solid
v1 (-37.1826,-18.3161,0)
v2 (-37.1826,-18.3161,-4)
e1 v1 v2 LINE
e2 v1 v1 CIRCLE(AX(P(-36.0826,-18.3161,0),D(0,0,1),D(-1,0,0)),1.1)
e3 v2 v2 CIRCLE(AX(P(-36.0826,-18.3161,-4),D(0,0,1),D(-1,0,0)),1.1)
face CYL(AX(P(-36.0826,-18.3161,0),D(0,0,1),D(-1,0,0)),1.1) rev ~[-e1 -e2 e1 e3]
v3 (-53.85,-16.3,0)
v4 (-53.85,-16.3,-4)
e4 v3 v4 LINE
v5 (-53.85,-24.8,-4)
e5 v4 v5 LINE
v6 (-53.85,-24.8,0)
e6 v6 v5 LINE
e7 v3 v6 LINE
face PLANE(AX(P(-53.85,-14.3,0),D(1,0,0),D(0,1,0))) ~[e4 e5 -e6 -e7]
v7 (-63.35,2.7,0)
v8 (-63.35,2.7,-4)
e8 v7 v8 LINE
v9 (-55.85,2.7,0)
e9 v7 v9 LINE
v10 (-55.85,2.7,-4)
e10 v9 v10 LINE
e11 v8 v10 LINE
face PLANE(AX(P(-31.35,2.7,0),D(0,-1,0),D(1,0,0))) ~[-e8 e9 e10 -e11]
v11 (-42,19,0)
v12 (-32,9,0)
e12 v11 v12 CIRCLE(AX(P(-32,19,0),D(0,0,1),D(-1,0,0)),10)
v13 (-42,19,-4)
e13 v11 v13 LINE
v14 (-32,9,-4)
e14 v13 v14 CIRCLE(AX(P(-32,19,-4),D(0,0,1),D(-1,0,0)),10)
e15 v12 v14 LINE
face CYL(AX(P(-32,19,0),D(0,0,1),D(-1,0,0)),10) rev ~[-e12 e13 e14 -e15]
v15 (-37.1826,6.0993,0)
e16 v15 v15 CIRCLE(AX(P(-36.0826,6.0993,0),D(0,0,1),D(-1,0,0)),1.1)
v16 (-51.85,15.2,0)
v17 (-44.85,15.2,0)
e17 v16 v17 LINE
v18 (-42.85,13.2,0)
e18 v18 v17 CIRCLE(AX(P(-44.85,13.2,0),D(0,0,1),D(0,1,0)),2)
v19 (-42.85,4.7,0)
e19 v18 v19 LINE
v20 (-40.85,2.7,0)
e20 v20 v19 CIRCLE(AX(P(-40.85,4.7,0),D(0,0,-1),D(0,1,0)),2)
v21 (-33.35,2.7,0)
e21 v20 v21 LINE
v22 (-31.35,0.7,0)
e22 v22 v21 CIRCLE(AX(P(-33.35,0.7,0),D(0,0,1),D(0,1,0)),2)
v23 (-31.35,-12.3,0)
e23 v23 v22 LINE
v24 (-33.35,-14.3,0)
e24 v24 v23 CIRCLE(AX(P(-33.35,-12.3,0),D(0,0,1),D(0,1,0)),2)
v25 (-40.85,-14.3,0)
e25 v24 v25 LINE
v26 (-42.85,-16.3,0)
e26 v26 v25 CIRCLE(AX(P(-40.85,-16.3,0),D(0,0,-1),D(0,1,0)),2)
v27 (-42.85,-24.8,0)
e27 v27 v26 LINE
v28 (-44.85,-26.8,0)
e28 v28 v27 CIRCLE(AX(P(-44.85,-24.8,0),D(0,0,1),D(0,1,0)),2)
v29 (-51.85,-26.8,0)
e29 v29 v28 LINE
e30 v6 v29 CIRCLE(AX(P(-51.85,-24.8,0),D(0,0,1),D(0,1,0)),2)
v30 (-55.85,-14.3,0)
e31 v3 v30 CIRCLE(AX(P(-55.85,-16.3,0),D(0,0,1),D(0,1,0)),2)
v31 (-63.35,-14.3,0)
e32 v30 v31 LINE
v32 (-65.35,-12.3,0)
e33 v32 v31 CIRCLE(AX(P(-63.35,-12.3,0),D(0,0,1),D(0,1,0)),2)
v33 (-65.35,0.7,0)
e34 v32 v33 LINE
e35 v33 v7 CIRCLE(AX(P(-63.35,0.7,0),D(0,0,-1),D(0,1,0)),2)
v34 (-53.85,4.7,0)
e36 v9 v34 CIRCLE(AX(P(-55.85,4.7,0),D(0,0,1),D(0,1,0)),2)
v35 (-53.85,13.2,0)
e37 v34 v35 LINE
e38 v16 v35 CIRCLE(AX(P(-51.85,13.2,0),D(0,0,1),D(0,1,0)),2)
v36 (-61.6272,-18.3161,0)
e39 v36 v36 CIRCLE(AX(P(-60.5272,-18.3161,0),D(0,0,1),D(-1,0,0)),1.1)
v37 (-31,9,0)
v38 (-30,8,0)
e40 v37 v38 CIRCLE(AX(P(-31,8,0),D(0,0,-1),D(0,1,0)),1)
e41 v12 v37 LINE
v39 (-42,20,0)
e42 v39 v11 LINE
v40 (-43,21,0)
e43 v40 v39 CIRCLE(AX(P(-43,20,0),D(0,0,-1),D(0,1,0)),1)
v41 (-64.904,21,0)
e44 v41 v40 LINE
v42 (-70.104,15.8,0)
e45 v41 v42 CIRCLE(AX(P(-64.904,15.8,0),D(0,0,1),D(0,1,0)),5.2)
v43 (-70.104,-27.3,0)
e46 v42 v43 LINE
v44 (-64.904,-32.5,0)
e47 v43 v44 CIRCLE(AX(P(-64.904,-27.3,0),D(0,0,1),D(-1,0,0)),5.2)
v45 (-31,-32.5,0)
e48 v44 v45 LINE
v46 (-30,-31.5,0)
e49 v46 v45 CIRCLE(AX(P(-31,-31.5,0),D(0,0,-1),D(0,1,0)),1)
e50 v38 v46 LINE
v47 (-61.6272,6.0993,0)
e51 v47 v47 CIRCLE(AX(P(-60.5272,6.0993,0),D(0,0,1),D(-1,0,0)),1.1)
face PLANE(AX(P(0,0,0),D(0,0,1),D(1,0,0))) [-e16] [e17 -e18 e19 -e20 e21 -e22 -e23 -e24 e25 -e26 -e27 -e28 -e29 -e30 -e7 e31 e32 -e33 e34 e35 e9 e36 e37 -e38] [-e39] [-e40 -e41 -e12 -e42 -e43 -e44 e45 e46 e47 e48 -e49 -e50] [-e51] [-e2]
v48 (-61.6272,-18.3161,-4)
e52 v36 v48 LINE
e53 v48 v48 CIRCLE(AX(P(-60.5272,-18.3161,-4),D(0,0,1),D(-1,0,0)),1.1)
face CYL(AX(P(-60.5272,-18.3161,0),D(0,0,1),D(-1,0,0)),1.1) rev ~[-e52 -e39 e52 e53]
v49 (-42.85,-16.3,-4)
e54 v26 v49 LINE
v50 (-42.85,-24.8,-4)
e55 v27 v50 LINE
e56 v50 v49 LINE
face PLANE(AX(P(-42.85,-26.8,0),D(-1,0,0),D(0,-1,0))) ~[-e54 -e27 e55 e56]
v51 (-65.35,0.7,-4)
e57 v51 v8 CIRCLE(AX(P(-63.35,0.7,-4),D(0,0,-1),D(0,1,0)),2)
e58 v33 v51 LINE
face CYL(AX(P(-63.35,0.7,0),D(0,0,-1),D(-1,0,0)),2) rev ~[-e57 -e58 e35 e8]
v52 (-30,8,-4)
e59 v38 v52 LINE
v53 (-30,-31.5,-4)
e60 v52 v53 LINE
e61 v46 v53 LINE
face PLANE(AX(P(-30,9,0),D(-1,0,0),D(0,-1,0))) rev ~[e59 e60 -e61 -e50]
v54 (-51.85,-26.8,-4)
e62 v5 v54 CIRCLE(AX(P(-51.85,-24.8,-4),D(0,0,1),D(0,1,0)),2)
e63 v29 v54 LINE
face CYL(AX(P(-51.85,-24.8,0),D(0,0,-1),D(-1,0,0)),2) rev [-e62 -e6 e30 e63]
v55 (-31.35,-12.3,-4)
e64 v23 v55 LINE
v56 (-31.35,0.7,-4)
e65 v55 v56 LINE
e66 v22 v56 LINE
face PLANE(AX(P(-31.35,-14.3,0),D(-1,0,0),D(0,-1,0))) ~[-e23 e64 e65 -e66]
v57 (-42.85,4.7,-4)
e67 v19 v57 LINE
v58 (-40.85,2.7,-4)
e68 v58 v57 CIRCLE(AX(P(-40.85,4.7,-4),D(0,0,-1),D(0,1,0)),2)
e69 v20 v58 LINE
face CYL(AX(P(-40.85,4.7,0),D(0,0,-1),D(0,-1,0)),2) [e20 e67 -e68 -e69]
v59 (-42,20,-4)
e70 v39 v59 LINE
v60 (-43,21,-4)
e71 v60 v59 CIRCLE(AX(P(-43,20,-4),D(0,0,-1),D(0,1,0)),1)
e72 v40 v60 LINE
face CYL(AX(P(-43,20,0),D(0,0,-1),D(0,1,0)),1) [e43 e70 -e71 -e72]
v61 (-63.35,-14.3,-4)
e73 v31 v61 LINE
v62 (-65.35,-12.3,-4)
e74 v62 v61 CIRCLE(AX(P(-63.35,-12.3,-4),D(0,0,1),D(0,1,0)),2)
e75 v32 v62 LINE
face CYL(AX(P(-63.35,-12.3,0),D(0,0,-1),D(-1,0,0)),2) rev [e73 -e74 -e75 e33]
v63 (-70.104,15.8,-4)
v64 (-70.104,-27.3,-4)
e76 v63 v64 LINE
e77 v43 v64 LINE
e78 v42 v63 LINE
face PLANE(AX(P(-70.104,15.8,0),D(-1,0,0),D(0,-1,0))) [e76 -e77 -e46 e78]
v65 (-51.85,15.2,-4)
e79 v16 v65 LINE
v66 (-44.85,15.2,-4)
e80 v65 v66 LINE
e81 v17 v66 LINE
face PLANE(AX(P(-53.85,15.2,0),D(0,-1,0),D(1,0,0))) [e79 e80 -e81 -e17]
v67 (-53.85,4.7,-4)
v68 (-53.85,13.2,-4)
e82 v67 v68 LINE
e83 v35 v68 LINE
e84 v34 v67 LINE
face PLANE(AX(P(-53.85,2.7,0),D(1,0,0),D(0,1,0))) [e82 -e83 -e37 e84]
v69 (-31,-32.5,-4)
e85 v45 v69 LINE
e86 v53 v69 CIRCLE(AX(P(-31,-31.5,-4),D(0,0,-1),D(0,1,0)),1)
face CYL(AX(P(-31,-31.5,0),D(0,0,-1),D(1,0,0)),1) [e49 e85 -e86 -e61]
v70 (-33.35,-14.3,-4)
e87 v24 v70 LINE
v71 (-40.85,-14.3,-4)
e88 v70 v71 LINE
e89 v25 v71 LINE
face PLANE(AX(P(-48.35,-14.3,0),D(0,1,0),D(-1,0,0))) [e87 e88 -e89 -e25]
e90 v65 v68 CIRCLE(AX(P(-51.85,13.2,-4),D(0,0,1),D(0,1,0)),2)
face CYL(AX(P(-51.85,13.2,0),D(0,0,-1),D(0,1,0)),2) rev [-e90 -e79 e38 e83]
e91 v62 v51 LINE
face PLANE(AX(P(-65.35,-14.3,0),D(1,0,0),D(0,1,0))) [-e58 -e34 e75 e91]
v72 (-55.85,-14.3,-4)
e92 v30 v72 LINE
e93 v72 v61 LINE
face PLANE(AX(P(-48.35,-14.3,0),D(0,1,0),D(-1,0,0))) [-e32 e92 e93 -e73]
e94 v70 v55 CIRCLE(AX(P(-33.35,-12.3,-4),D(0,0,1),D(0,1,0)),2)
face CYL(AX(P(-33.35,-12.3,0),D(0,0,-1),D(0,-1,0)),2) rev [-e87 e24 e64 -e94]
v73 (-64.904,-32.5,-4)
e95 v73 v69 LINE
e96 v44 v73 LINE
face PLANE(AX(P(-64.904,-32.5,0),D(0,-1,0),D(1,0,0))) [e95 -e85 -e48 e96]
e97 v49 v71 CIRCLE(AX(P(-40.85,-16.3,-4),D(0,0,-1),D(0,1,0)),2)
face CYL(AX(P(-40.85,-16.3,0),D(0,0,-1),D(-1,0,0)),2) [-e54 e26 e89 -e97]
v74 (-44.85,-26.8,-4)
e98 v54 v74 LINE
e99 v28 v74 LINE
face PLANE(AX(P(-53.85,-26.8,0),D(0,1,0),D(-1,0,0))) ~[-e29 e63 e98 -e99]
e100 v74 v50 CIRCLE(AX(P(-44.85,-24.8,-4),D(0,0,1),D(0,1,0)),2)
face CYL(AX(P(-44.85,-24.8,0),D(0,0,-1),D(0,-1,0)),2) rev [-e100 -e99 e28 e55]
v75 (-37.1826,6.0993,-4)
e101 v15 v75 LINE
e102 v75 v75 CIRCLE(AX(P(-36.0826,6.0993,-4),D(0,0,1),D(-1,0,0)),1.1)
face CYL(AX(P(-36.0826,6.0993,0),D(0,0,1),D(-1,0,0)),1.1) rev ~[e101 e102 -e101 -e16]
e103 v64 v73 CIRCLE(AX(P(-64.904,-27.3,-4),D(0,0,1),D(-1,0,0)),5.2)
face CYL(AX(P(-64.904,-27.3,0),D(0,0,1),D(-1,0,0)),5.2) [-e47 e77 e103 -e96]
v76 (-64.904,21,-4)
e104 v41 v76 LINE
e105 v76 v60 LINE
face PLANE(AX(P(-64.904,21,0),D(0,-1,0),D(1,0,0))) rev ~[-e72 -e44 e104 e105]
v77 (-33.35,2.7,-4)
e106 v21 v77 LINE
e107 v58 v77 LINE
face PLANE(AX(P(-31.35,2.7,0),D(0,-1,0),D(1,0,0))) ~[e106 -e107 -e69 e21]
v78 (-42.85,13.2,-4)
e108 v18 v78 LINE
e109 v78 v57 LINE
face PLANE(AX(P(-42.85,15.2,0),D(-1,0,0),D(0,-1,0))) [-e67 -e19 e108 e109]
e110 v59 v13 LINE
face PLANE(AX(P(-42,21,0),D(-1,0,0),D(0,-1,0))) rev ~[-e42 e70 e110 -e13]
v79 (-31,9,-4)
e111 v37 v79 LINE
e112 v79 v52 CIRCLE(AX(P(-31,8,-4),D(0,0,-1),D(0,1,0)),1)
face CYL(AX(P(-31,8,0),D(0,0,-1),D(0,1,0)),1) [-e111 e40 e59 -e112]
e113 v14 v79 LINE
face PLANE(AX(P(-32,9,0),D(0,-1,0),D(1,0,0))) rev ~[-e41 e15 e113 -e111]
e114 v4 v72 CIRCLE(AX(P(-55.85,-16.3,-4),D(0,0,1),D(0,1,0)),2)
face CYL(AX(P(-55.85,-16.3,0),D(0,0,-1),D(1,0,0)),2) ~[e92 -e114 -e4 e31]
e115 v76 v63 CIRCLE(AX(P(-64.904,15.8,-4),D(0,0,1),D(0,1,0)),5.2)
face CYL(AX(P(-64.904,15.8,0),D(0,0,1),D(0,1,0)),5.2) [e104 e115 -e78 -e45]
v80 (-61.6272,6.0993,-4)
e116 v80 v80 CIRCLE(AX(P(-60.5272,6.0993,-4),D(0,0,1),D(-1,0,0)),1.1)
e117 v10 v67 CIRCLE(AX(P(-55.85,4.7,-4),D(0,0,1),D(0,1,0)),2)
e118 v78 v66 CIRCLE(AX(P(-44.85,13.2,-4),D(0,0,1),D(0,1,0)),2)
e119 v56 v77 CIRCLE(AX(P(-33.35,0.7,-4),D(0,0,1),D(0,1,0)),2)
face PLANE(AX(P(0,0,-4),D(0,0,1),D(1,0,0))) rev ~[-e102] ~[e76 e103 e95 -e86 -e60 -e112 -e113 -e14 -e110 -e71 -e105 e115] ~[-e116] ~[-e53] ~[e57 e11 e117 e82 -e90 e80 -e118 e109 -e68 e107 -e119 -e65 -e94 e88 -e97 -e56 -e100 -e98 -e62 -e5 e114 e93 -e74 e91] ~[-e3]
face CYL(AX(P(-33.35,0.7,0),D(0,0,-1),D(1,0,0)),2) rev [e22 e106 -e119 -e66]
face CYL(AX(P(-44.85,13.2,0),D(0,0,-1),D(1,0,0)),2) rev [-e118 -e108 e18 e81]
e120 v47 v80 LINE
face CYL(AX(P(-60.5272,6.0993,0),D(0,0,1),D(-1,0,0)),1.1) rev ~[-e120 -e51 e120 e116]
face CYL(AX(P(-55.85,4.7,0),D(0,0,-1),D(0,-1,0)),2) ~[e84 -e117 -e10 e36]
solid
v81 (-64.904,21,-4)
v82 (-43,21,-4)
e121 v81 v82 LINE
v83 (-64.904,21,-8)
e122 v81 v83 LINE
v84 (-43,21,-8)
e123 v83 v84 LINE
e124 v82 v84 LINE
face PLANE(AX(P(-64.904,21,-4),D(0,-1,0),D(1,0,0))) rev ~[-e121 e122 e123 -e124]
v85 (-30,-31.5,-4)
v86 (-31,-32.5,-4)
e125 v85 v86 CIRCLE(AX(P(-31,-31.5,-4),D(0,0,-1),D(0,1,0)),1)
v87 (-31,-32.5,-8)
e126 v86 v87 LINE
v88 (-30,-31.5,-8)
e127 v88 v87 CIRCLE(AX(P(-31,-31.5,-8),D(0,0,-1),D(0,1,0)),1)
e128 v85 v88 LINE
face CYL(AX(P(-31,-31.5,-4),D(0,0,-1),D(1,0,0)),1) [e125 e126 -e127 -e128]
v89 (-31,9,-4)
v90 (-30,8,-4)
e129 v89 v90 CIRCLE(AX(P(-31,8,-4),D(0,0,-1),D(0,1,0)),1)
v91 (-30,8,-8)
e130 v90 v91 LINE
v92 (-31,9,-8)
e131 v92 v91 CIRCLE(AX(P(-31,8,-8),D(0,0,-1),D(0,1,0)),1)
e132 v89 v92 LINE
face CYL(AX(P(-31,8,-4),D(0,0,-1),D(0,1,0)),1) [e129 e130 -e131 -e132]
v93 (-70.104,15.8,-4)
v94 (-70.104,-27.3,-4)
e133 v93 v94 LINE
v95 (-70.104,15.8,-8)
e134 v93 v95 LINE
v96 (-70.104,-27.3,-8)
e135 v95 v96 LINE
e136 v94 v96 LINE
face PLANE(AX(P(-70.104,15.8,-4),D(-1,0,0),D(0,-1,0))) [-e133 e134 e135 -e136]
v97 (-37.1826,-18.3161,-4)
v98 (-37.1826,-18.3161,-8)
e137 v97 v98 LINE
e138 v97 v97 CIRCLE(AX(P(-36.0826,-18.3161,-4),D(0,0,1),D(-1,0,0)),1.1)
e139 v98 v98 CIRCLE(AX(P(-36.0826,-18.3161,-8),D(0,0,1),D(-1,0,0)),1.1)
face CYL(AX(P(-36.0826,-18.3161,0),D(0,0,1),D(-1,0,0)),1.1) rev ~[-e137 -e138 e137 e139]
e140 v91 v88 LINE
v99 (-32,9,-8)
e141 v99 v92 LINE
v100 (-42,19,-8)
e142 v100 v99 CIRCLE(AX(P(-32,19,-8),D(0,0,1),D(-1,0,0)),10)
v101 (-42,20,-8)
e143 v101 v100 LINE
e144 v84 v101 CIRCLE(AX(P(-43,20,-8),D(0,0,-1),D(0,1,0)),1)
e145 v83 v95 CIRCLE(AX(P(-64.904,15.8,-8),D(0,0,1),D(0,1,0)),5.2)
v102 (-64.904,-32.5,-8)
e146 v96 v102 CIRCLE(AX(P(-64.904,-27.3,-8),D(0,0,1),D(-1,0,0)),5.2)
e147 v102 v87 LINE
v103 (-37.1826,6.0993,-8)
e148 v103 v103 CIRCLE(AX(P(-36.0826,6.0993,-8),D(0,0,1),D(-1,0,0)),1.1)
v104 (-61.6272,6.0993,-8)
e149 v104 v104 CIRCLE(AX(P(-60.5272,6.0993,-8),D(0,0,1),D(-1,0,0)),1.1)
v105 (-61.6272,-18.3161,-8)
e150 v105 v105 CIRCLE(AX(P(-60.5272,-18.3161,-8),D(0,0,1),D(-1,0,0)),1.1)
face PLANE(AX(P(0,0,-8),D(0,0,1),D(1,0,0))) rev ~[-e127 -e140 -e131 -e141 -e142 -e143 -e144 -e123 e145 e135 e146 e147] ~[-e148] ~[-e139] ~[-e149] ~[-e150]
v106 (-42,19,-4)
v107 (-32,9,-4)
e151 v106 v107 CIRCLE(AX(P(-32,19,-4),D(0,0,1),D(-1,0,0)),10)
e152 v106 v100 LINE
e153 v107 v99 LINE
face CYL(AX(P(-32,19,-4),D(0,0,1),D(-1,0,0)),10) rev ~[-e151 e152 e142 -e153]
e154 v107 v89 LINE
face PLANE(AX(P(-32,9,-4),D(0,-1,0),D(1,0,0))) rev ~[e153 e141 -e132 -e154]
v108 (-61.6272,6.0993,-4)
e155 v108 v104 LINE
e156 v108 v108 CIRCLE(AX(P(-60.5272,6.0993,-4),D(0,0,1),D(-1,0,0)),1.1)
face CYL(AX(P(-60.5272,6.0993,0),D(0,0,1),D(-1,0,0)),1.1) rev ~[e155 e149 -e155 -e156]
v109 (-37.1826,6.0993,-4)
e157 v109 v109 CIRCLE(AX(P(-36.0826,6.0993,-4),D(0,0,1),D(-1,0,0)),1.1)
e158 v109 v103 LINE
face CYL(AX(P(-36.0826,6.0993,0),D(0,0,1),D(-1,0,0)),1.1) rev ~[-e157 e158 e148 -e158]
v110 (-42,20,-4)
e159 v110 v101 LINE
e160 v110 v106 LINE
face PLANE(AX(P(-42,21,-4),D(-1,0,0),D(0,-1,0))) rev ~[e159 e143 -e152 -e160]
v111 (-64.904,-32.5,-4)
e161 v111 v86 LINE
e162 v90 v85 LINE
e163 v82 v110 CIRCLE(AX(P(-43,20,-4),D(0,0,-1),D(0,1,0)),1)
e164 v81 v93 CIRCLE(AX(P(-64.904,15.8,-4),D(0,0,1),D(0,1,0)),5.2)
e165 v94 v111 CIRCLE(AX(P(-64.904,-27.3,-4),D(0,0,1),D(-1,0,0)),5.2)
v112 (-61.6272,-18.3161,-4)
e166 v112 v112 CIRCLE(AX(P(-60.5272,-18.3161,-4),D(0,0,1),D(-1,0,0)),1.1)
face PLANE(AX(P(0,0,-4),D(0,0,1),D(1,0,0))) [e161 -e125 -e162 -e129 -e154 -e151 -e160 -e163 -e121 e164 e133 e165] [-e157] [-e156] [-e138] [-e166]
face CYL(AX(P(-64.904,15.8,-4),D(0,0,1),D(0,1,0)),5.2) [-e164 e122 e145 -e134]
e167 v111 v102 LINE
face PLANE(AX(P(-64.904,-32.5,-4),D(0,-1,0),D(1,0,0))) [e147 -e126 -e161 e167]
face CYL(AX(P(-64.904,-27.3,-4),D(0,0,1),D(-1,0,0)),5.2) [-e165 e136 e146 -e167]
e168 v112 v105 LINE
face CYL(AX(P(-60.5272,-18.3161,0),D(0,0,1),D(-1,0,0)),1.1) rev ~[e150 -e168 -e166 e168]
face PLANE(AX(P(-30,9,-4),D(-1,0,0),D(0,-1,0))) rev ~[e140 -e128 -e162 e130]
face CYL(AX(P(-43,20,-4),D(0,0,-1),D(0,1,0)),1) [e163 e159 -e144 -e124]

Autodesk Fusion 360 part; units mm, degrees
sketch "Sketch2" plane through (0, 0, 0) normal (0, 0, 1) x (1, 0, 0)
  line L0 (70.104, -32.512) -> (-70.104, -32.512)
  line L1 (-70.104, -32.512) -> (-70.104, 32.512)
  line L2 (-70.104, 32.512) -> (70.104, 32.512)
  line L3 (70.104, 32.512) -> (70.104, -32.512)
  line L4 (70.104, -32.512) -> (-70.104, 32.512) construction
  line L5 (-70.104, -32.512) -> (70.104, 32.512) construction
  dimension "d1" = 140.208
  dimension "d2" = 65.024
sketch "Sketch3" plane through (0, 0, 0) normal (0, 0, 1) x (1, 0, 0)
  line L0 (-70.104, 15.8) -> (-70.104, -27.3)
  arc A0 (-70.104, -27.3) -> (-64.904, -32.5) centre (-64.904, -27.3) ccw
  line L1 (-64.904, -32.5) -> (-30, -32.5)
  arc A1 (-64.904, 21) -> (-70.104, 15.8) centre (-64.904, 15.8) ccw
  line L2 (-64.904, 21) -> (-42, 21)
  line L3 (-30, 9) -> (-30, -32.5)
  circle A2 centre (-30.5373, 18.3875) radius 8
  line L4 (-30.5373, 22.2562) -> (-30.5373, 14.5188)
  line L5 (-42, 21) -> (-42, 19)
  arc A3 (-42, 19) -> (-32, 9) centre (-32, 19) ccw
  line L6 (-32, 9) -> (-30, 9)
  dimension "d3" = 70.104
  dimension "d4" = 32.5
  dimension "d5" = 5.2
  dimension "d6" = 21
  dimension "d7" = 5.2
  dimension "d8" = 16
  dimension "d9" = 42
  dimension "d10" = 9
  dimension "d11" = 10
  dimension "d12" = 30
extrude "Extrude1" add sketch "Sketch3" against normal blind 4 contours L0 A0 L1 A1 L2 L3 L5 A3 L6 makes body 1
fillet "Fillet3" radius 1 3 edges at (-30, -32.5, -2) (-30, 9, -2) (-42, 21, -2) on bodies 1
pattern_linear "R-Pattern1" count 2 spacing 4 along (0, 0, -1) of bodies 1 makes body 2
sketch "Sketch4" plane through (0, 0, 0) normal (0, 0, 1) x (-1, 0, 0)
  arc A0 (64.904, -21) -> (70.104, -15.8) centre (64.904, -15.8) ccw
  line L0 (70.104, -15.8) -> (70.104, 27.3)
  arc A1 (70.104, 27.3) -> (64.904, 32.5) centre (64.904, 27.3) ccw
  line L1 (64.904, 32.5) -> (31, 32.5)
  line L2 (30, 31.5) -> (30, -8)
  line L3 (31, -9) -> (32, -9)
  arc A2 (42, -19) -> (32, -9) centre (32, -19) ccw
  line L4 (42, -19) -> (42, -20)
  line L5 (43, -21) -> (64.904, -21)
  line L6 (65.35, -2.7) -> (48.35, -2.7)
  line L7 (48.35, -2.7) -> (48.35, 14.3)
  line L8 (48.35, 14.3) -> (65.35, 14.3)
  line L9 (65.35, 14.3) -> (65.35, -2.7)
  arc A3 (42, -20) -> (43, -21) centre (43, -20) ccw
  arc A4 (31, 32.5) -> (30, 31.5) centre (31, 31.5) ccw
  arc A5 (30, -8) -> (31, -9) centre (31, -8) ccw
  point P0 (48.35, 5.8)
  dimension "d21" = 5.8
  dimension "d22" = 17
  dimension "d23" = 48.35
  dimension "d24" = 17
extrude "Extrude2" cut sketch "Sketch4" against normal blind 4 contours L6 L7 L8 L9 bodies 1
fillet "Fillet1" radius 2 2 edges at (-65.35, 2.7, -2) (-65.35, -14.3, -2) on bodies 1
mirror "Mirror1" about plane through (-48.35, 2.7, 0) normal (-1, 0, 0) of "Extrude2", "Fillet1"
sketch "Sketch5" plane through (0, 0, 0) normal (0, 0, 1) x (-1, 0, 0)
  line L0 (33.35, 14.3) -> (63.35, 14.3)
  arc A0 (65.35, 12.3) -> (63.35, 14.3) centre (63.35, 12.3) ccw
  line L1 (65.35, 12.3) -> (65.35, -0.7)
  arc A1 (63.35, -2.7) -> (65.35, -0.7) centre (63.35, -0.7) ccw
  line L2 (63.35, -2.7) -> (33.35, -2.7)
  arc A2 (31.35, -0.7) -> (33.35, -2.7) centre (33.35, -0.7) ccw
  line L3 (31.35, -0.7) -> (31.35, 12.3)
  arc A3 (33.35, 14.3) -> (31.35, 12.3) centre (33.35, 12.3) ccw
  arc A4 (42, -20) -> (43, -21) centre (43, -20) ccw
  line L4 (43, -21) -> (64.904, -21)
  arc A5 (64.904, -21) -> (70.104, -15.8) centre (64.904, -15.8) ccw
  line L5 (70.104, -15.8) -> (70.104, 27.3)
  arc A6 (70.104, 27.3) -> (64.904, 32.5) centre (64.904, 27.3) ccw
  line L6 (64.904, 32.5) -> (31, 32.5)
  arc A7 (31, 32.5) -> (30, 31.5) centre (31, 31.5) ccw
  line L7 (30, 31.5) -> (30, -8)
  arc A8 (30, -8) -> (31, -9) centre (31, -8) ccw
  line L8 (31, -9) -> (32, -9)
  arc A9 (42, -19) -> (32, -9) centre (32, -19) ccw
  line L9 (42, -19) -> (42, -20)
  line L10 (53.85, -2.7) -> (53.85, -15.2)
  line L11 (53.85, -15.2) -> (42.85, -15.2)
  line L12 (42.85, -15.2) -> (42.85, -2.7)
  point P0 (48.35, -2.7)
  point P1 (48.35, -15.2)
  dimension "d37" = 12.5
  dimension "d38" = 11
extrude "Extrude3" cut sketch "Sketch5" against normal blind 4 contours L2 L10 L11 L12 bodies 1
fillet "Fillet4" radius 2 2 edges at (-53.85, 15.2, -2) (-42.85, 15.2, -2) on bodies 1
ref_plane "WorkPlane1" through (-58.1, -5.8, -2) normal (0, -1, 0) x (-1, 0, 0)
mirror "Mirror2" about plane through (-58.1, -5.8, -2) normal (0, -1, 0) of "Extrude3", "Fillet4"
sketch "Sketch6" plane through (0, 0, 0) normal (0, 0, 1) x (-1, 0, 0)
  line L0 (53.85, 24.8) -> (53.85, 14.3)
  line L1 (53.85, 14.3) -> (63.35, 14.3)
  arc A0 (65.35, 12.3) -> (63.35, 14.3) centre (63.35, 12.3) ccw
  line L2 (65.35, 12.3) -> (65.35, -0.7)
  arc A1 (63.35, -2.7) -> (65.35, -0.7) centre (63.35, -0.7) ccw
  line L3 (63.35, -2.7) -> (53.85, -2.7)
  line L4 (53.85, -2.7) -> (53.85, -13.2)
  arc A2 (51.85, -15.2) -> (53.85, -13.2) centre (51.85, -13.2) ccw
  line L5 (51.85, -15.2) -> (44.85, -15.2)
  arc A3 (42.85, -13.2) -> (44.85, -15.2) centre (44.85, -13.2) ccw
  line L6 (42.85, -13.2) -> (42.85, -2.7)
  line L7 (42.85, -2.7) -> (33.35, -2.7)
  arc A4 (31.35, -0.7) -> (33.35, -2.7) centre (33.35, -0.7) ccw
  line L8 (31.35, -0.7) -> (31.35, 12.3)
  arc A5 (33.35, 14.3) -> (31.35, 12.3) centre (33.35, 12.3) ccw
  line L9 (33.35, 14.3) -> (42.85, 14.3)
  line L10 (42.85, 14.3) -> (42.85, 24.8)
  arc A6 (44.85, 26.8) -> (42.85, 24.8) centre (44.85, 24.8) ccw
  line L11 (44.85, 26.8) -> (51.85, 26.8)
  arc A7 (53.85, 24.8) -> (51.85, 26.8) centre (51.85, 24.8) ccw
  arc A8 (42, -20) -> (43, -21) centre (43, -20) ccw
  line L12 (43, -21) -> (64.904, -21)
  arc A9 (64.904, -21) -> (70.104, -15.8) centre (64.904, -15.8) ccw
  line L13 (70.104, -15.8) -> (70.104, 27.3)
  arc A10 (70.104, 27.3) -> (64.904, 32.5) centre (64.904, 27.3) ccw
  line L14 (64.904, 32.5) -> (31, 32.5)
  arc A11 (31, 32.5) -> (30, 31.5) centre (31, 31.5) ccw
  line L15 (30, 31.5) -> (30, -8)
  arc A12 (30, -8) -> (31, -9) centre (31, -8) ccw
  line L16 (31, -9) -> (32, -9)
  arc A13 (42, -19) -> (32, -9) centre (32, -19) ccw
  line L17 (42, -19) -> (42, -20)
  circle A14 centre (60.5272, -6.0993) radius 1.1
  circle A15 centre (36.0826, -6.0993) radius 1.1
  line L18 (60.5272, -6.0993) -> (36.0826, -6.0993) construction
  line L19 (36.0826, -6.0993) -> (36.0826, 18.3161) construction
  line L20 (36.0826, 18.3161) -> (60.5272, 18.3161) construction
  line L21 (60.5272, 18.3161) -> (60.5272, -6.0993) construction
  circle A16 centre (60.5272, 18.3161) radius 1.1
  circle A17 centre (36.0826, 18.3161) radius 1.1
  dimension "d45" = 2.2
  dimension "d46" = 2.2
  dimension "d47" = 2.2
  dimension "d48" = 2.2
extrude "Extrude4" cut sketch "Sketch6" against normal blind 18 contours A14 | A15 | A16 | A17 bodies 1 2
fillet "Fillet5" radius 2 4 edges at (-53.85, 2.7, -2) (-53.85, -14.3, -2) (-42.85, -14.3, -2) (-42.85, 2.7, -2) on bodies 1
sketch "Sketch10" plane through (0, 0, 0) normal (0, 0, 1) x (-1, 0, 0)
  arc A0 (42.85, -4.7) -> (40.85, -2.7) centre (40.85, -4.7) ccw
  line L0 (40.85, -2.7) -> (33.35, -2.7)
  arc A1 (31.35, -0.7) -> (33.35, -2.7) centre (33.35, -0.7) ccw
  line L1 (31.35, -0.7) -> (31.35, 12.3)
  arc A2 (33.35, 14.3) -> (31.35, 12.3) centre (33.35, 12.3) ccw
  line L2 (33.35, 14.3) -> (40.85, 14.3)
  arc A3 (40.85, 14.3) -> (42.85, 16.3) centre (40.85, 16.3) ccw
  line L3 (42.85, 16.3) -> (42.85, 24.8)
  arc A4 (44.85, 26.8) -> (42.85, 24.8) centre (44.85, 24.8) ccw
  line L4 (44.85, 26.8) -> (51.85, 26.8)
  arc A5 (53.85, 24.8) -> (51.85, 26.8) centre (51.85, 24.8) ccw
  line L5 (53.85, 24.8) -> (53.85, 16.3)
  arc A6 (53.85, 16.3) -> (55.85, 14.3) centre (55.85, 16.3) ccw
  line L6 (55.85, 14.3) -> (63.35, 14.3)
  arc A7 (65.35, 12.3) -> (63.35, 14.3) centre (63.35, 12.3) ccw
  line L7 (65.35, 12.3) -> (65.35, -0.7)
  arc A8 (63.35, -2.7) -> (65.35, -0.7) centre (63.35, -0.7) ccw
  line L8 (63.35, -2.7) -> (55.85, -2.7)
  arc A9 (55.85, -2.7) -> (53.85, -4.7) centre (55.85, -4.7) ccw
  line L9 (53.85, -4.7) -> (53.85, -13.2)
  arc A10 (51.85, -15.2) -> (53.85, -13.2) centre (51.85, -13.2) ccw
  line L10 (51.85, -15.2) -> (44.85, -15.2)
  arc A11 (42.85, -13.2) -> (44.85, -15.2) centre (44.85, -13.2) ccw
  line L11 (42.85, -13.2) -> (42.85, -4.7)
  circle A12 centre (60.5272, 18.3161) radius 1.1
  circle A13 centre (36.0826, 18.3161) radius 1.1
  circle A14 centre (60.5272, -6.0993) radius 1.1
  circle A15 centre (36.0826, -6.0993) radius 1.1
  arc A16 (42, -20) -> (43, -21) centre (43, -20) ccw
  line L12 (43, -21) -> (64.904, -21)
  arc A17 (64.904, -21) -> (70.104, -15.8) centre (64.904, -15.8) ccw
  line L13 (70.104, -15.8) -> (70.104, 27.3)
  arc A18 (70.104, 27.3) -> (64.904, 32.5) centre (64.904, 27.3) ccw
  line L14 (64.904, 32.5) -> (31, 32.5)
  arc A19 (31, 32.5) -> (30, 31.5) centre (31, 31.5) ccw
  line L15 (30, 31.5) -> (30, -8)
  arc A20 (30, -8) -> (31, -9) centre (31, -8) ccw
  line L16 (31, -9) -> (32, -9)
  arc A21 (42, -19) -> (32, -9) centre (32, -19) ccw
  line L17 (42, -19) -> (42, -20)
sketch "Sketch11" plane through (0, 0, -4) normal (0, 0, 1) x (-1, 0, 0)
  circle A0 centre (60.5272, 18.3161) radius 1.1
  circle A1 centre (36.0826, 18.3161) radius 1.1
  circle A2 centre (60.5272, -6.0993) radius 1.1
  circle A3 centre (36.0826, -6.0993) radius 1.1
  arc A4 (42, -20) -> (43, -21) centre (43, -20) ccw
  line L0 (43, -21) -> (64.904, -21)
  arc A5 (64.904, -21) -> (70.104, -15.8) centre (64.904, -15.8) ccw
  line L1 (70.104, -15.8) -> (70.104, 27.3)
  arc A6 (70.104, 27.3) -> (64.904, 32.5) centre (64.904, 27.3) ccw
  line L2 (64.904, 32.5) -> (31, 32.5)
  arc A7 (31, 32.5) -> (30, 31.5) centre (31, 31.5) ccw
  line L3 (30, 31.5) -> (30, -8)
  arc A8 (30, -8) -> (31, -9) centre (31, -8) ccw
  line L4 (31, -9) -> (32, -9)
  arc A9 (42, -19) -> (32, -9) centre (32, -19) ccw
  line L5 (42, -19) -> (42, -20)
equation "d3 = ( 140.208 / 2 ) * 1 mm"
